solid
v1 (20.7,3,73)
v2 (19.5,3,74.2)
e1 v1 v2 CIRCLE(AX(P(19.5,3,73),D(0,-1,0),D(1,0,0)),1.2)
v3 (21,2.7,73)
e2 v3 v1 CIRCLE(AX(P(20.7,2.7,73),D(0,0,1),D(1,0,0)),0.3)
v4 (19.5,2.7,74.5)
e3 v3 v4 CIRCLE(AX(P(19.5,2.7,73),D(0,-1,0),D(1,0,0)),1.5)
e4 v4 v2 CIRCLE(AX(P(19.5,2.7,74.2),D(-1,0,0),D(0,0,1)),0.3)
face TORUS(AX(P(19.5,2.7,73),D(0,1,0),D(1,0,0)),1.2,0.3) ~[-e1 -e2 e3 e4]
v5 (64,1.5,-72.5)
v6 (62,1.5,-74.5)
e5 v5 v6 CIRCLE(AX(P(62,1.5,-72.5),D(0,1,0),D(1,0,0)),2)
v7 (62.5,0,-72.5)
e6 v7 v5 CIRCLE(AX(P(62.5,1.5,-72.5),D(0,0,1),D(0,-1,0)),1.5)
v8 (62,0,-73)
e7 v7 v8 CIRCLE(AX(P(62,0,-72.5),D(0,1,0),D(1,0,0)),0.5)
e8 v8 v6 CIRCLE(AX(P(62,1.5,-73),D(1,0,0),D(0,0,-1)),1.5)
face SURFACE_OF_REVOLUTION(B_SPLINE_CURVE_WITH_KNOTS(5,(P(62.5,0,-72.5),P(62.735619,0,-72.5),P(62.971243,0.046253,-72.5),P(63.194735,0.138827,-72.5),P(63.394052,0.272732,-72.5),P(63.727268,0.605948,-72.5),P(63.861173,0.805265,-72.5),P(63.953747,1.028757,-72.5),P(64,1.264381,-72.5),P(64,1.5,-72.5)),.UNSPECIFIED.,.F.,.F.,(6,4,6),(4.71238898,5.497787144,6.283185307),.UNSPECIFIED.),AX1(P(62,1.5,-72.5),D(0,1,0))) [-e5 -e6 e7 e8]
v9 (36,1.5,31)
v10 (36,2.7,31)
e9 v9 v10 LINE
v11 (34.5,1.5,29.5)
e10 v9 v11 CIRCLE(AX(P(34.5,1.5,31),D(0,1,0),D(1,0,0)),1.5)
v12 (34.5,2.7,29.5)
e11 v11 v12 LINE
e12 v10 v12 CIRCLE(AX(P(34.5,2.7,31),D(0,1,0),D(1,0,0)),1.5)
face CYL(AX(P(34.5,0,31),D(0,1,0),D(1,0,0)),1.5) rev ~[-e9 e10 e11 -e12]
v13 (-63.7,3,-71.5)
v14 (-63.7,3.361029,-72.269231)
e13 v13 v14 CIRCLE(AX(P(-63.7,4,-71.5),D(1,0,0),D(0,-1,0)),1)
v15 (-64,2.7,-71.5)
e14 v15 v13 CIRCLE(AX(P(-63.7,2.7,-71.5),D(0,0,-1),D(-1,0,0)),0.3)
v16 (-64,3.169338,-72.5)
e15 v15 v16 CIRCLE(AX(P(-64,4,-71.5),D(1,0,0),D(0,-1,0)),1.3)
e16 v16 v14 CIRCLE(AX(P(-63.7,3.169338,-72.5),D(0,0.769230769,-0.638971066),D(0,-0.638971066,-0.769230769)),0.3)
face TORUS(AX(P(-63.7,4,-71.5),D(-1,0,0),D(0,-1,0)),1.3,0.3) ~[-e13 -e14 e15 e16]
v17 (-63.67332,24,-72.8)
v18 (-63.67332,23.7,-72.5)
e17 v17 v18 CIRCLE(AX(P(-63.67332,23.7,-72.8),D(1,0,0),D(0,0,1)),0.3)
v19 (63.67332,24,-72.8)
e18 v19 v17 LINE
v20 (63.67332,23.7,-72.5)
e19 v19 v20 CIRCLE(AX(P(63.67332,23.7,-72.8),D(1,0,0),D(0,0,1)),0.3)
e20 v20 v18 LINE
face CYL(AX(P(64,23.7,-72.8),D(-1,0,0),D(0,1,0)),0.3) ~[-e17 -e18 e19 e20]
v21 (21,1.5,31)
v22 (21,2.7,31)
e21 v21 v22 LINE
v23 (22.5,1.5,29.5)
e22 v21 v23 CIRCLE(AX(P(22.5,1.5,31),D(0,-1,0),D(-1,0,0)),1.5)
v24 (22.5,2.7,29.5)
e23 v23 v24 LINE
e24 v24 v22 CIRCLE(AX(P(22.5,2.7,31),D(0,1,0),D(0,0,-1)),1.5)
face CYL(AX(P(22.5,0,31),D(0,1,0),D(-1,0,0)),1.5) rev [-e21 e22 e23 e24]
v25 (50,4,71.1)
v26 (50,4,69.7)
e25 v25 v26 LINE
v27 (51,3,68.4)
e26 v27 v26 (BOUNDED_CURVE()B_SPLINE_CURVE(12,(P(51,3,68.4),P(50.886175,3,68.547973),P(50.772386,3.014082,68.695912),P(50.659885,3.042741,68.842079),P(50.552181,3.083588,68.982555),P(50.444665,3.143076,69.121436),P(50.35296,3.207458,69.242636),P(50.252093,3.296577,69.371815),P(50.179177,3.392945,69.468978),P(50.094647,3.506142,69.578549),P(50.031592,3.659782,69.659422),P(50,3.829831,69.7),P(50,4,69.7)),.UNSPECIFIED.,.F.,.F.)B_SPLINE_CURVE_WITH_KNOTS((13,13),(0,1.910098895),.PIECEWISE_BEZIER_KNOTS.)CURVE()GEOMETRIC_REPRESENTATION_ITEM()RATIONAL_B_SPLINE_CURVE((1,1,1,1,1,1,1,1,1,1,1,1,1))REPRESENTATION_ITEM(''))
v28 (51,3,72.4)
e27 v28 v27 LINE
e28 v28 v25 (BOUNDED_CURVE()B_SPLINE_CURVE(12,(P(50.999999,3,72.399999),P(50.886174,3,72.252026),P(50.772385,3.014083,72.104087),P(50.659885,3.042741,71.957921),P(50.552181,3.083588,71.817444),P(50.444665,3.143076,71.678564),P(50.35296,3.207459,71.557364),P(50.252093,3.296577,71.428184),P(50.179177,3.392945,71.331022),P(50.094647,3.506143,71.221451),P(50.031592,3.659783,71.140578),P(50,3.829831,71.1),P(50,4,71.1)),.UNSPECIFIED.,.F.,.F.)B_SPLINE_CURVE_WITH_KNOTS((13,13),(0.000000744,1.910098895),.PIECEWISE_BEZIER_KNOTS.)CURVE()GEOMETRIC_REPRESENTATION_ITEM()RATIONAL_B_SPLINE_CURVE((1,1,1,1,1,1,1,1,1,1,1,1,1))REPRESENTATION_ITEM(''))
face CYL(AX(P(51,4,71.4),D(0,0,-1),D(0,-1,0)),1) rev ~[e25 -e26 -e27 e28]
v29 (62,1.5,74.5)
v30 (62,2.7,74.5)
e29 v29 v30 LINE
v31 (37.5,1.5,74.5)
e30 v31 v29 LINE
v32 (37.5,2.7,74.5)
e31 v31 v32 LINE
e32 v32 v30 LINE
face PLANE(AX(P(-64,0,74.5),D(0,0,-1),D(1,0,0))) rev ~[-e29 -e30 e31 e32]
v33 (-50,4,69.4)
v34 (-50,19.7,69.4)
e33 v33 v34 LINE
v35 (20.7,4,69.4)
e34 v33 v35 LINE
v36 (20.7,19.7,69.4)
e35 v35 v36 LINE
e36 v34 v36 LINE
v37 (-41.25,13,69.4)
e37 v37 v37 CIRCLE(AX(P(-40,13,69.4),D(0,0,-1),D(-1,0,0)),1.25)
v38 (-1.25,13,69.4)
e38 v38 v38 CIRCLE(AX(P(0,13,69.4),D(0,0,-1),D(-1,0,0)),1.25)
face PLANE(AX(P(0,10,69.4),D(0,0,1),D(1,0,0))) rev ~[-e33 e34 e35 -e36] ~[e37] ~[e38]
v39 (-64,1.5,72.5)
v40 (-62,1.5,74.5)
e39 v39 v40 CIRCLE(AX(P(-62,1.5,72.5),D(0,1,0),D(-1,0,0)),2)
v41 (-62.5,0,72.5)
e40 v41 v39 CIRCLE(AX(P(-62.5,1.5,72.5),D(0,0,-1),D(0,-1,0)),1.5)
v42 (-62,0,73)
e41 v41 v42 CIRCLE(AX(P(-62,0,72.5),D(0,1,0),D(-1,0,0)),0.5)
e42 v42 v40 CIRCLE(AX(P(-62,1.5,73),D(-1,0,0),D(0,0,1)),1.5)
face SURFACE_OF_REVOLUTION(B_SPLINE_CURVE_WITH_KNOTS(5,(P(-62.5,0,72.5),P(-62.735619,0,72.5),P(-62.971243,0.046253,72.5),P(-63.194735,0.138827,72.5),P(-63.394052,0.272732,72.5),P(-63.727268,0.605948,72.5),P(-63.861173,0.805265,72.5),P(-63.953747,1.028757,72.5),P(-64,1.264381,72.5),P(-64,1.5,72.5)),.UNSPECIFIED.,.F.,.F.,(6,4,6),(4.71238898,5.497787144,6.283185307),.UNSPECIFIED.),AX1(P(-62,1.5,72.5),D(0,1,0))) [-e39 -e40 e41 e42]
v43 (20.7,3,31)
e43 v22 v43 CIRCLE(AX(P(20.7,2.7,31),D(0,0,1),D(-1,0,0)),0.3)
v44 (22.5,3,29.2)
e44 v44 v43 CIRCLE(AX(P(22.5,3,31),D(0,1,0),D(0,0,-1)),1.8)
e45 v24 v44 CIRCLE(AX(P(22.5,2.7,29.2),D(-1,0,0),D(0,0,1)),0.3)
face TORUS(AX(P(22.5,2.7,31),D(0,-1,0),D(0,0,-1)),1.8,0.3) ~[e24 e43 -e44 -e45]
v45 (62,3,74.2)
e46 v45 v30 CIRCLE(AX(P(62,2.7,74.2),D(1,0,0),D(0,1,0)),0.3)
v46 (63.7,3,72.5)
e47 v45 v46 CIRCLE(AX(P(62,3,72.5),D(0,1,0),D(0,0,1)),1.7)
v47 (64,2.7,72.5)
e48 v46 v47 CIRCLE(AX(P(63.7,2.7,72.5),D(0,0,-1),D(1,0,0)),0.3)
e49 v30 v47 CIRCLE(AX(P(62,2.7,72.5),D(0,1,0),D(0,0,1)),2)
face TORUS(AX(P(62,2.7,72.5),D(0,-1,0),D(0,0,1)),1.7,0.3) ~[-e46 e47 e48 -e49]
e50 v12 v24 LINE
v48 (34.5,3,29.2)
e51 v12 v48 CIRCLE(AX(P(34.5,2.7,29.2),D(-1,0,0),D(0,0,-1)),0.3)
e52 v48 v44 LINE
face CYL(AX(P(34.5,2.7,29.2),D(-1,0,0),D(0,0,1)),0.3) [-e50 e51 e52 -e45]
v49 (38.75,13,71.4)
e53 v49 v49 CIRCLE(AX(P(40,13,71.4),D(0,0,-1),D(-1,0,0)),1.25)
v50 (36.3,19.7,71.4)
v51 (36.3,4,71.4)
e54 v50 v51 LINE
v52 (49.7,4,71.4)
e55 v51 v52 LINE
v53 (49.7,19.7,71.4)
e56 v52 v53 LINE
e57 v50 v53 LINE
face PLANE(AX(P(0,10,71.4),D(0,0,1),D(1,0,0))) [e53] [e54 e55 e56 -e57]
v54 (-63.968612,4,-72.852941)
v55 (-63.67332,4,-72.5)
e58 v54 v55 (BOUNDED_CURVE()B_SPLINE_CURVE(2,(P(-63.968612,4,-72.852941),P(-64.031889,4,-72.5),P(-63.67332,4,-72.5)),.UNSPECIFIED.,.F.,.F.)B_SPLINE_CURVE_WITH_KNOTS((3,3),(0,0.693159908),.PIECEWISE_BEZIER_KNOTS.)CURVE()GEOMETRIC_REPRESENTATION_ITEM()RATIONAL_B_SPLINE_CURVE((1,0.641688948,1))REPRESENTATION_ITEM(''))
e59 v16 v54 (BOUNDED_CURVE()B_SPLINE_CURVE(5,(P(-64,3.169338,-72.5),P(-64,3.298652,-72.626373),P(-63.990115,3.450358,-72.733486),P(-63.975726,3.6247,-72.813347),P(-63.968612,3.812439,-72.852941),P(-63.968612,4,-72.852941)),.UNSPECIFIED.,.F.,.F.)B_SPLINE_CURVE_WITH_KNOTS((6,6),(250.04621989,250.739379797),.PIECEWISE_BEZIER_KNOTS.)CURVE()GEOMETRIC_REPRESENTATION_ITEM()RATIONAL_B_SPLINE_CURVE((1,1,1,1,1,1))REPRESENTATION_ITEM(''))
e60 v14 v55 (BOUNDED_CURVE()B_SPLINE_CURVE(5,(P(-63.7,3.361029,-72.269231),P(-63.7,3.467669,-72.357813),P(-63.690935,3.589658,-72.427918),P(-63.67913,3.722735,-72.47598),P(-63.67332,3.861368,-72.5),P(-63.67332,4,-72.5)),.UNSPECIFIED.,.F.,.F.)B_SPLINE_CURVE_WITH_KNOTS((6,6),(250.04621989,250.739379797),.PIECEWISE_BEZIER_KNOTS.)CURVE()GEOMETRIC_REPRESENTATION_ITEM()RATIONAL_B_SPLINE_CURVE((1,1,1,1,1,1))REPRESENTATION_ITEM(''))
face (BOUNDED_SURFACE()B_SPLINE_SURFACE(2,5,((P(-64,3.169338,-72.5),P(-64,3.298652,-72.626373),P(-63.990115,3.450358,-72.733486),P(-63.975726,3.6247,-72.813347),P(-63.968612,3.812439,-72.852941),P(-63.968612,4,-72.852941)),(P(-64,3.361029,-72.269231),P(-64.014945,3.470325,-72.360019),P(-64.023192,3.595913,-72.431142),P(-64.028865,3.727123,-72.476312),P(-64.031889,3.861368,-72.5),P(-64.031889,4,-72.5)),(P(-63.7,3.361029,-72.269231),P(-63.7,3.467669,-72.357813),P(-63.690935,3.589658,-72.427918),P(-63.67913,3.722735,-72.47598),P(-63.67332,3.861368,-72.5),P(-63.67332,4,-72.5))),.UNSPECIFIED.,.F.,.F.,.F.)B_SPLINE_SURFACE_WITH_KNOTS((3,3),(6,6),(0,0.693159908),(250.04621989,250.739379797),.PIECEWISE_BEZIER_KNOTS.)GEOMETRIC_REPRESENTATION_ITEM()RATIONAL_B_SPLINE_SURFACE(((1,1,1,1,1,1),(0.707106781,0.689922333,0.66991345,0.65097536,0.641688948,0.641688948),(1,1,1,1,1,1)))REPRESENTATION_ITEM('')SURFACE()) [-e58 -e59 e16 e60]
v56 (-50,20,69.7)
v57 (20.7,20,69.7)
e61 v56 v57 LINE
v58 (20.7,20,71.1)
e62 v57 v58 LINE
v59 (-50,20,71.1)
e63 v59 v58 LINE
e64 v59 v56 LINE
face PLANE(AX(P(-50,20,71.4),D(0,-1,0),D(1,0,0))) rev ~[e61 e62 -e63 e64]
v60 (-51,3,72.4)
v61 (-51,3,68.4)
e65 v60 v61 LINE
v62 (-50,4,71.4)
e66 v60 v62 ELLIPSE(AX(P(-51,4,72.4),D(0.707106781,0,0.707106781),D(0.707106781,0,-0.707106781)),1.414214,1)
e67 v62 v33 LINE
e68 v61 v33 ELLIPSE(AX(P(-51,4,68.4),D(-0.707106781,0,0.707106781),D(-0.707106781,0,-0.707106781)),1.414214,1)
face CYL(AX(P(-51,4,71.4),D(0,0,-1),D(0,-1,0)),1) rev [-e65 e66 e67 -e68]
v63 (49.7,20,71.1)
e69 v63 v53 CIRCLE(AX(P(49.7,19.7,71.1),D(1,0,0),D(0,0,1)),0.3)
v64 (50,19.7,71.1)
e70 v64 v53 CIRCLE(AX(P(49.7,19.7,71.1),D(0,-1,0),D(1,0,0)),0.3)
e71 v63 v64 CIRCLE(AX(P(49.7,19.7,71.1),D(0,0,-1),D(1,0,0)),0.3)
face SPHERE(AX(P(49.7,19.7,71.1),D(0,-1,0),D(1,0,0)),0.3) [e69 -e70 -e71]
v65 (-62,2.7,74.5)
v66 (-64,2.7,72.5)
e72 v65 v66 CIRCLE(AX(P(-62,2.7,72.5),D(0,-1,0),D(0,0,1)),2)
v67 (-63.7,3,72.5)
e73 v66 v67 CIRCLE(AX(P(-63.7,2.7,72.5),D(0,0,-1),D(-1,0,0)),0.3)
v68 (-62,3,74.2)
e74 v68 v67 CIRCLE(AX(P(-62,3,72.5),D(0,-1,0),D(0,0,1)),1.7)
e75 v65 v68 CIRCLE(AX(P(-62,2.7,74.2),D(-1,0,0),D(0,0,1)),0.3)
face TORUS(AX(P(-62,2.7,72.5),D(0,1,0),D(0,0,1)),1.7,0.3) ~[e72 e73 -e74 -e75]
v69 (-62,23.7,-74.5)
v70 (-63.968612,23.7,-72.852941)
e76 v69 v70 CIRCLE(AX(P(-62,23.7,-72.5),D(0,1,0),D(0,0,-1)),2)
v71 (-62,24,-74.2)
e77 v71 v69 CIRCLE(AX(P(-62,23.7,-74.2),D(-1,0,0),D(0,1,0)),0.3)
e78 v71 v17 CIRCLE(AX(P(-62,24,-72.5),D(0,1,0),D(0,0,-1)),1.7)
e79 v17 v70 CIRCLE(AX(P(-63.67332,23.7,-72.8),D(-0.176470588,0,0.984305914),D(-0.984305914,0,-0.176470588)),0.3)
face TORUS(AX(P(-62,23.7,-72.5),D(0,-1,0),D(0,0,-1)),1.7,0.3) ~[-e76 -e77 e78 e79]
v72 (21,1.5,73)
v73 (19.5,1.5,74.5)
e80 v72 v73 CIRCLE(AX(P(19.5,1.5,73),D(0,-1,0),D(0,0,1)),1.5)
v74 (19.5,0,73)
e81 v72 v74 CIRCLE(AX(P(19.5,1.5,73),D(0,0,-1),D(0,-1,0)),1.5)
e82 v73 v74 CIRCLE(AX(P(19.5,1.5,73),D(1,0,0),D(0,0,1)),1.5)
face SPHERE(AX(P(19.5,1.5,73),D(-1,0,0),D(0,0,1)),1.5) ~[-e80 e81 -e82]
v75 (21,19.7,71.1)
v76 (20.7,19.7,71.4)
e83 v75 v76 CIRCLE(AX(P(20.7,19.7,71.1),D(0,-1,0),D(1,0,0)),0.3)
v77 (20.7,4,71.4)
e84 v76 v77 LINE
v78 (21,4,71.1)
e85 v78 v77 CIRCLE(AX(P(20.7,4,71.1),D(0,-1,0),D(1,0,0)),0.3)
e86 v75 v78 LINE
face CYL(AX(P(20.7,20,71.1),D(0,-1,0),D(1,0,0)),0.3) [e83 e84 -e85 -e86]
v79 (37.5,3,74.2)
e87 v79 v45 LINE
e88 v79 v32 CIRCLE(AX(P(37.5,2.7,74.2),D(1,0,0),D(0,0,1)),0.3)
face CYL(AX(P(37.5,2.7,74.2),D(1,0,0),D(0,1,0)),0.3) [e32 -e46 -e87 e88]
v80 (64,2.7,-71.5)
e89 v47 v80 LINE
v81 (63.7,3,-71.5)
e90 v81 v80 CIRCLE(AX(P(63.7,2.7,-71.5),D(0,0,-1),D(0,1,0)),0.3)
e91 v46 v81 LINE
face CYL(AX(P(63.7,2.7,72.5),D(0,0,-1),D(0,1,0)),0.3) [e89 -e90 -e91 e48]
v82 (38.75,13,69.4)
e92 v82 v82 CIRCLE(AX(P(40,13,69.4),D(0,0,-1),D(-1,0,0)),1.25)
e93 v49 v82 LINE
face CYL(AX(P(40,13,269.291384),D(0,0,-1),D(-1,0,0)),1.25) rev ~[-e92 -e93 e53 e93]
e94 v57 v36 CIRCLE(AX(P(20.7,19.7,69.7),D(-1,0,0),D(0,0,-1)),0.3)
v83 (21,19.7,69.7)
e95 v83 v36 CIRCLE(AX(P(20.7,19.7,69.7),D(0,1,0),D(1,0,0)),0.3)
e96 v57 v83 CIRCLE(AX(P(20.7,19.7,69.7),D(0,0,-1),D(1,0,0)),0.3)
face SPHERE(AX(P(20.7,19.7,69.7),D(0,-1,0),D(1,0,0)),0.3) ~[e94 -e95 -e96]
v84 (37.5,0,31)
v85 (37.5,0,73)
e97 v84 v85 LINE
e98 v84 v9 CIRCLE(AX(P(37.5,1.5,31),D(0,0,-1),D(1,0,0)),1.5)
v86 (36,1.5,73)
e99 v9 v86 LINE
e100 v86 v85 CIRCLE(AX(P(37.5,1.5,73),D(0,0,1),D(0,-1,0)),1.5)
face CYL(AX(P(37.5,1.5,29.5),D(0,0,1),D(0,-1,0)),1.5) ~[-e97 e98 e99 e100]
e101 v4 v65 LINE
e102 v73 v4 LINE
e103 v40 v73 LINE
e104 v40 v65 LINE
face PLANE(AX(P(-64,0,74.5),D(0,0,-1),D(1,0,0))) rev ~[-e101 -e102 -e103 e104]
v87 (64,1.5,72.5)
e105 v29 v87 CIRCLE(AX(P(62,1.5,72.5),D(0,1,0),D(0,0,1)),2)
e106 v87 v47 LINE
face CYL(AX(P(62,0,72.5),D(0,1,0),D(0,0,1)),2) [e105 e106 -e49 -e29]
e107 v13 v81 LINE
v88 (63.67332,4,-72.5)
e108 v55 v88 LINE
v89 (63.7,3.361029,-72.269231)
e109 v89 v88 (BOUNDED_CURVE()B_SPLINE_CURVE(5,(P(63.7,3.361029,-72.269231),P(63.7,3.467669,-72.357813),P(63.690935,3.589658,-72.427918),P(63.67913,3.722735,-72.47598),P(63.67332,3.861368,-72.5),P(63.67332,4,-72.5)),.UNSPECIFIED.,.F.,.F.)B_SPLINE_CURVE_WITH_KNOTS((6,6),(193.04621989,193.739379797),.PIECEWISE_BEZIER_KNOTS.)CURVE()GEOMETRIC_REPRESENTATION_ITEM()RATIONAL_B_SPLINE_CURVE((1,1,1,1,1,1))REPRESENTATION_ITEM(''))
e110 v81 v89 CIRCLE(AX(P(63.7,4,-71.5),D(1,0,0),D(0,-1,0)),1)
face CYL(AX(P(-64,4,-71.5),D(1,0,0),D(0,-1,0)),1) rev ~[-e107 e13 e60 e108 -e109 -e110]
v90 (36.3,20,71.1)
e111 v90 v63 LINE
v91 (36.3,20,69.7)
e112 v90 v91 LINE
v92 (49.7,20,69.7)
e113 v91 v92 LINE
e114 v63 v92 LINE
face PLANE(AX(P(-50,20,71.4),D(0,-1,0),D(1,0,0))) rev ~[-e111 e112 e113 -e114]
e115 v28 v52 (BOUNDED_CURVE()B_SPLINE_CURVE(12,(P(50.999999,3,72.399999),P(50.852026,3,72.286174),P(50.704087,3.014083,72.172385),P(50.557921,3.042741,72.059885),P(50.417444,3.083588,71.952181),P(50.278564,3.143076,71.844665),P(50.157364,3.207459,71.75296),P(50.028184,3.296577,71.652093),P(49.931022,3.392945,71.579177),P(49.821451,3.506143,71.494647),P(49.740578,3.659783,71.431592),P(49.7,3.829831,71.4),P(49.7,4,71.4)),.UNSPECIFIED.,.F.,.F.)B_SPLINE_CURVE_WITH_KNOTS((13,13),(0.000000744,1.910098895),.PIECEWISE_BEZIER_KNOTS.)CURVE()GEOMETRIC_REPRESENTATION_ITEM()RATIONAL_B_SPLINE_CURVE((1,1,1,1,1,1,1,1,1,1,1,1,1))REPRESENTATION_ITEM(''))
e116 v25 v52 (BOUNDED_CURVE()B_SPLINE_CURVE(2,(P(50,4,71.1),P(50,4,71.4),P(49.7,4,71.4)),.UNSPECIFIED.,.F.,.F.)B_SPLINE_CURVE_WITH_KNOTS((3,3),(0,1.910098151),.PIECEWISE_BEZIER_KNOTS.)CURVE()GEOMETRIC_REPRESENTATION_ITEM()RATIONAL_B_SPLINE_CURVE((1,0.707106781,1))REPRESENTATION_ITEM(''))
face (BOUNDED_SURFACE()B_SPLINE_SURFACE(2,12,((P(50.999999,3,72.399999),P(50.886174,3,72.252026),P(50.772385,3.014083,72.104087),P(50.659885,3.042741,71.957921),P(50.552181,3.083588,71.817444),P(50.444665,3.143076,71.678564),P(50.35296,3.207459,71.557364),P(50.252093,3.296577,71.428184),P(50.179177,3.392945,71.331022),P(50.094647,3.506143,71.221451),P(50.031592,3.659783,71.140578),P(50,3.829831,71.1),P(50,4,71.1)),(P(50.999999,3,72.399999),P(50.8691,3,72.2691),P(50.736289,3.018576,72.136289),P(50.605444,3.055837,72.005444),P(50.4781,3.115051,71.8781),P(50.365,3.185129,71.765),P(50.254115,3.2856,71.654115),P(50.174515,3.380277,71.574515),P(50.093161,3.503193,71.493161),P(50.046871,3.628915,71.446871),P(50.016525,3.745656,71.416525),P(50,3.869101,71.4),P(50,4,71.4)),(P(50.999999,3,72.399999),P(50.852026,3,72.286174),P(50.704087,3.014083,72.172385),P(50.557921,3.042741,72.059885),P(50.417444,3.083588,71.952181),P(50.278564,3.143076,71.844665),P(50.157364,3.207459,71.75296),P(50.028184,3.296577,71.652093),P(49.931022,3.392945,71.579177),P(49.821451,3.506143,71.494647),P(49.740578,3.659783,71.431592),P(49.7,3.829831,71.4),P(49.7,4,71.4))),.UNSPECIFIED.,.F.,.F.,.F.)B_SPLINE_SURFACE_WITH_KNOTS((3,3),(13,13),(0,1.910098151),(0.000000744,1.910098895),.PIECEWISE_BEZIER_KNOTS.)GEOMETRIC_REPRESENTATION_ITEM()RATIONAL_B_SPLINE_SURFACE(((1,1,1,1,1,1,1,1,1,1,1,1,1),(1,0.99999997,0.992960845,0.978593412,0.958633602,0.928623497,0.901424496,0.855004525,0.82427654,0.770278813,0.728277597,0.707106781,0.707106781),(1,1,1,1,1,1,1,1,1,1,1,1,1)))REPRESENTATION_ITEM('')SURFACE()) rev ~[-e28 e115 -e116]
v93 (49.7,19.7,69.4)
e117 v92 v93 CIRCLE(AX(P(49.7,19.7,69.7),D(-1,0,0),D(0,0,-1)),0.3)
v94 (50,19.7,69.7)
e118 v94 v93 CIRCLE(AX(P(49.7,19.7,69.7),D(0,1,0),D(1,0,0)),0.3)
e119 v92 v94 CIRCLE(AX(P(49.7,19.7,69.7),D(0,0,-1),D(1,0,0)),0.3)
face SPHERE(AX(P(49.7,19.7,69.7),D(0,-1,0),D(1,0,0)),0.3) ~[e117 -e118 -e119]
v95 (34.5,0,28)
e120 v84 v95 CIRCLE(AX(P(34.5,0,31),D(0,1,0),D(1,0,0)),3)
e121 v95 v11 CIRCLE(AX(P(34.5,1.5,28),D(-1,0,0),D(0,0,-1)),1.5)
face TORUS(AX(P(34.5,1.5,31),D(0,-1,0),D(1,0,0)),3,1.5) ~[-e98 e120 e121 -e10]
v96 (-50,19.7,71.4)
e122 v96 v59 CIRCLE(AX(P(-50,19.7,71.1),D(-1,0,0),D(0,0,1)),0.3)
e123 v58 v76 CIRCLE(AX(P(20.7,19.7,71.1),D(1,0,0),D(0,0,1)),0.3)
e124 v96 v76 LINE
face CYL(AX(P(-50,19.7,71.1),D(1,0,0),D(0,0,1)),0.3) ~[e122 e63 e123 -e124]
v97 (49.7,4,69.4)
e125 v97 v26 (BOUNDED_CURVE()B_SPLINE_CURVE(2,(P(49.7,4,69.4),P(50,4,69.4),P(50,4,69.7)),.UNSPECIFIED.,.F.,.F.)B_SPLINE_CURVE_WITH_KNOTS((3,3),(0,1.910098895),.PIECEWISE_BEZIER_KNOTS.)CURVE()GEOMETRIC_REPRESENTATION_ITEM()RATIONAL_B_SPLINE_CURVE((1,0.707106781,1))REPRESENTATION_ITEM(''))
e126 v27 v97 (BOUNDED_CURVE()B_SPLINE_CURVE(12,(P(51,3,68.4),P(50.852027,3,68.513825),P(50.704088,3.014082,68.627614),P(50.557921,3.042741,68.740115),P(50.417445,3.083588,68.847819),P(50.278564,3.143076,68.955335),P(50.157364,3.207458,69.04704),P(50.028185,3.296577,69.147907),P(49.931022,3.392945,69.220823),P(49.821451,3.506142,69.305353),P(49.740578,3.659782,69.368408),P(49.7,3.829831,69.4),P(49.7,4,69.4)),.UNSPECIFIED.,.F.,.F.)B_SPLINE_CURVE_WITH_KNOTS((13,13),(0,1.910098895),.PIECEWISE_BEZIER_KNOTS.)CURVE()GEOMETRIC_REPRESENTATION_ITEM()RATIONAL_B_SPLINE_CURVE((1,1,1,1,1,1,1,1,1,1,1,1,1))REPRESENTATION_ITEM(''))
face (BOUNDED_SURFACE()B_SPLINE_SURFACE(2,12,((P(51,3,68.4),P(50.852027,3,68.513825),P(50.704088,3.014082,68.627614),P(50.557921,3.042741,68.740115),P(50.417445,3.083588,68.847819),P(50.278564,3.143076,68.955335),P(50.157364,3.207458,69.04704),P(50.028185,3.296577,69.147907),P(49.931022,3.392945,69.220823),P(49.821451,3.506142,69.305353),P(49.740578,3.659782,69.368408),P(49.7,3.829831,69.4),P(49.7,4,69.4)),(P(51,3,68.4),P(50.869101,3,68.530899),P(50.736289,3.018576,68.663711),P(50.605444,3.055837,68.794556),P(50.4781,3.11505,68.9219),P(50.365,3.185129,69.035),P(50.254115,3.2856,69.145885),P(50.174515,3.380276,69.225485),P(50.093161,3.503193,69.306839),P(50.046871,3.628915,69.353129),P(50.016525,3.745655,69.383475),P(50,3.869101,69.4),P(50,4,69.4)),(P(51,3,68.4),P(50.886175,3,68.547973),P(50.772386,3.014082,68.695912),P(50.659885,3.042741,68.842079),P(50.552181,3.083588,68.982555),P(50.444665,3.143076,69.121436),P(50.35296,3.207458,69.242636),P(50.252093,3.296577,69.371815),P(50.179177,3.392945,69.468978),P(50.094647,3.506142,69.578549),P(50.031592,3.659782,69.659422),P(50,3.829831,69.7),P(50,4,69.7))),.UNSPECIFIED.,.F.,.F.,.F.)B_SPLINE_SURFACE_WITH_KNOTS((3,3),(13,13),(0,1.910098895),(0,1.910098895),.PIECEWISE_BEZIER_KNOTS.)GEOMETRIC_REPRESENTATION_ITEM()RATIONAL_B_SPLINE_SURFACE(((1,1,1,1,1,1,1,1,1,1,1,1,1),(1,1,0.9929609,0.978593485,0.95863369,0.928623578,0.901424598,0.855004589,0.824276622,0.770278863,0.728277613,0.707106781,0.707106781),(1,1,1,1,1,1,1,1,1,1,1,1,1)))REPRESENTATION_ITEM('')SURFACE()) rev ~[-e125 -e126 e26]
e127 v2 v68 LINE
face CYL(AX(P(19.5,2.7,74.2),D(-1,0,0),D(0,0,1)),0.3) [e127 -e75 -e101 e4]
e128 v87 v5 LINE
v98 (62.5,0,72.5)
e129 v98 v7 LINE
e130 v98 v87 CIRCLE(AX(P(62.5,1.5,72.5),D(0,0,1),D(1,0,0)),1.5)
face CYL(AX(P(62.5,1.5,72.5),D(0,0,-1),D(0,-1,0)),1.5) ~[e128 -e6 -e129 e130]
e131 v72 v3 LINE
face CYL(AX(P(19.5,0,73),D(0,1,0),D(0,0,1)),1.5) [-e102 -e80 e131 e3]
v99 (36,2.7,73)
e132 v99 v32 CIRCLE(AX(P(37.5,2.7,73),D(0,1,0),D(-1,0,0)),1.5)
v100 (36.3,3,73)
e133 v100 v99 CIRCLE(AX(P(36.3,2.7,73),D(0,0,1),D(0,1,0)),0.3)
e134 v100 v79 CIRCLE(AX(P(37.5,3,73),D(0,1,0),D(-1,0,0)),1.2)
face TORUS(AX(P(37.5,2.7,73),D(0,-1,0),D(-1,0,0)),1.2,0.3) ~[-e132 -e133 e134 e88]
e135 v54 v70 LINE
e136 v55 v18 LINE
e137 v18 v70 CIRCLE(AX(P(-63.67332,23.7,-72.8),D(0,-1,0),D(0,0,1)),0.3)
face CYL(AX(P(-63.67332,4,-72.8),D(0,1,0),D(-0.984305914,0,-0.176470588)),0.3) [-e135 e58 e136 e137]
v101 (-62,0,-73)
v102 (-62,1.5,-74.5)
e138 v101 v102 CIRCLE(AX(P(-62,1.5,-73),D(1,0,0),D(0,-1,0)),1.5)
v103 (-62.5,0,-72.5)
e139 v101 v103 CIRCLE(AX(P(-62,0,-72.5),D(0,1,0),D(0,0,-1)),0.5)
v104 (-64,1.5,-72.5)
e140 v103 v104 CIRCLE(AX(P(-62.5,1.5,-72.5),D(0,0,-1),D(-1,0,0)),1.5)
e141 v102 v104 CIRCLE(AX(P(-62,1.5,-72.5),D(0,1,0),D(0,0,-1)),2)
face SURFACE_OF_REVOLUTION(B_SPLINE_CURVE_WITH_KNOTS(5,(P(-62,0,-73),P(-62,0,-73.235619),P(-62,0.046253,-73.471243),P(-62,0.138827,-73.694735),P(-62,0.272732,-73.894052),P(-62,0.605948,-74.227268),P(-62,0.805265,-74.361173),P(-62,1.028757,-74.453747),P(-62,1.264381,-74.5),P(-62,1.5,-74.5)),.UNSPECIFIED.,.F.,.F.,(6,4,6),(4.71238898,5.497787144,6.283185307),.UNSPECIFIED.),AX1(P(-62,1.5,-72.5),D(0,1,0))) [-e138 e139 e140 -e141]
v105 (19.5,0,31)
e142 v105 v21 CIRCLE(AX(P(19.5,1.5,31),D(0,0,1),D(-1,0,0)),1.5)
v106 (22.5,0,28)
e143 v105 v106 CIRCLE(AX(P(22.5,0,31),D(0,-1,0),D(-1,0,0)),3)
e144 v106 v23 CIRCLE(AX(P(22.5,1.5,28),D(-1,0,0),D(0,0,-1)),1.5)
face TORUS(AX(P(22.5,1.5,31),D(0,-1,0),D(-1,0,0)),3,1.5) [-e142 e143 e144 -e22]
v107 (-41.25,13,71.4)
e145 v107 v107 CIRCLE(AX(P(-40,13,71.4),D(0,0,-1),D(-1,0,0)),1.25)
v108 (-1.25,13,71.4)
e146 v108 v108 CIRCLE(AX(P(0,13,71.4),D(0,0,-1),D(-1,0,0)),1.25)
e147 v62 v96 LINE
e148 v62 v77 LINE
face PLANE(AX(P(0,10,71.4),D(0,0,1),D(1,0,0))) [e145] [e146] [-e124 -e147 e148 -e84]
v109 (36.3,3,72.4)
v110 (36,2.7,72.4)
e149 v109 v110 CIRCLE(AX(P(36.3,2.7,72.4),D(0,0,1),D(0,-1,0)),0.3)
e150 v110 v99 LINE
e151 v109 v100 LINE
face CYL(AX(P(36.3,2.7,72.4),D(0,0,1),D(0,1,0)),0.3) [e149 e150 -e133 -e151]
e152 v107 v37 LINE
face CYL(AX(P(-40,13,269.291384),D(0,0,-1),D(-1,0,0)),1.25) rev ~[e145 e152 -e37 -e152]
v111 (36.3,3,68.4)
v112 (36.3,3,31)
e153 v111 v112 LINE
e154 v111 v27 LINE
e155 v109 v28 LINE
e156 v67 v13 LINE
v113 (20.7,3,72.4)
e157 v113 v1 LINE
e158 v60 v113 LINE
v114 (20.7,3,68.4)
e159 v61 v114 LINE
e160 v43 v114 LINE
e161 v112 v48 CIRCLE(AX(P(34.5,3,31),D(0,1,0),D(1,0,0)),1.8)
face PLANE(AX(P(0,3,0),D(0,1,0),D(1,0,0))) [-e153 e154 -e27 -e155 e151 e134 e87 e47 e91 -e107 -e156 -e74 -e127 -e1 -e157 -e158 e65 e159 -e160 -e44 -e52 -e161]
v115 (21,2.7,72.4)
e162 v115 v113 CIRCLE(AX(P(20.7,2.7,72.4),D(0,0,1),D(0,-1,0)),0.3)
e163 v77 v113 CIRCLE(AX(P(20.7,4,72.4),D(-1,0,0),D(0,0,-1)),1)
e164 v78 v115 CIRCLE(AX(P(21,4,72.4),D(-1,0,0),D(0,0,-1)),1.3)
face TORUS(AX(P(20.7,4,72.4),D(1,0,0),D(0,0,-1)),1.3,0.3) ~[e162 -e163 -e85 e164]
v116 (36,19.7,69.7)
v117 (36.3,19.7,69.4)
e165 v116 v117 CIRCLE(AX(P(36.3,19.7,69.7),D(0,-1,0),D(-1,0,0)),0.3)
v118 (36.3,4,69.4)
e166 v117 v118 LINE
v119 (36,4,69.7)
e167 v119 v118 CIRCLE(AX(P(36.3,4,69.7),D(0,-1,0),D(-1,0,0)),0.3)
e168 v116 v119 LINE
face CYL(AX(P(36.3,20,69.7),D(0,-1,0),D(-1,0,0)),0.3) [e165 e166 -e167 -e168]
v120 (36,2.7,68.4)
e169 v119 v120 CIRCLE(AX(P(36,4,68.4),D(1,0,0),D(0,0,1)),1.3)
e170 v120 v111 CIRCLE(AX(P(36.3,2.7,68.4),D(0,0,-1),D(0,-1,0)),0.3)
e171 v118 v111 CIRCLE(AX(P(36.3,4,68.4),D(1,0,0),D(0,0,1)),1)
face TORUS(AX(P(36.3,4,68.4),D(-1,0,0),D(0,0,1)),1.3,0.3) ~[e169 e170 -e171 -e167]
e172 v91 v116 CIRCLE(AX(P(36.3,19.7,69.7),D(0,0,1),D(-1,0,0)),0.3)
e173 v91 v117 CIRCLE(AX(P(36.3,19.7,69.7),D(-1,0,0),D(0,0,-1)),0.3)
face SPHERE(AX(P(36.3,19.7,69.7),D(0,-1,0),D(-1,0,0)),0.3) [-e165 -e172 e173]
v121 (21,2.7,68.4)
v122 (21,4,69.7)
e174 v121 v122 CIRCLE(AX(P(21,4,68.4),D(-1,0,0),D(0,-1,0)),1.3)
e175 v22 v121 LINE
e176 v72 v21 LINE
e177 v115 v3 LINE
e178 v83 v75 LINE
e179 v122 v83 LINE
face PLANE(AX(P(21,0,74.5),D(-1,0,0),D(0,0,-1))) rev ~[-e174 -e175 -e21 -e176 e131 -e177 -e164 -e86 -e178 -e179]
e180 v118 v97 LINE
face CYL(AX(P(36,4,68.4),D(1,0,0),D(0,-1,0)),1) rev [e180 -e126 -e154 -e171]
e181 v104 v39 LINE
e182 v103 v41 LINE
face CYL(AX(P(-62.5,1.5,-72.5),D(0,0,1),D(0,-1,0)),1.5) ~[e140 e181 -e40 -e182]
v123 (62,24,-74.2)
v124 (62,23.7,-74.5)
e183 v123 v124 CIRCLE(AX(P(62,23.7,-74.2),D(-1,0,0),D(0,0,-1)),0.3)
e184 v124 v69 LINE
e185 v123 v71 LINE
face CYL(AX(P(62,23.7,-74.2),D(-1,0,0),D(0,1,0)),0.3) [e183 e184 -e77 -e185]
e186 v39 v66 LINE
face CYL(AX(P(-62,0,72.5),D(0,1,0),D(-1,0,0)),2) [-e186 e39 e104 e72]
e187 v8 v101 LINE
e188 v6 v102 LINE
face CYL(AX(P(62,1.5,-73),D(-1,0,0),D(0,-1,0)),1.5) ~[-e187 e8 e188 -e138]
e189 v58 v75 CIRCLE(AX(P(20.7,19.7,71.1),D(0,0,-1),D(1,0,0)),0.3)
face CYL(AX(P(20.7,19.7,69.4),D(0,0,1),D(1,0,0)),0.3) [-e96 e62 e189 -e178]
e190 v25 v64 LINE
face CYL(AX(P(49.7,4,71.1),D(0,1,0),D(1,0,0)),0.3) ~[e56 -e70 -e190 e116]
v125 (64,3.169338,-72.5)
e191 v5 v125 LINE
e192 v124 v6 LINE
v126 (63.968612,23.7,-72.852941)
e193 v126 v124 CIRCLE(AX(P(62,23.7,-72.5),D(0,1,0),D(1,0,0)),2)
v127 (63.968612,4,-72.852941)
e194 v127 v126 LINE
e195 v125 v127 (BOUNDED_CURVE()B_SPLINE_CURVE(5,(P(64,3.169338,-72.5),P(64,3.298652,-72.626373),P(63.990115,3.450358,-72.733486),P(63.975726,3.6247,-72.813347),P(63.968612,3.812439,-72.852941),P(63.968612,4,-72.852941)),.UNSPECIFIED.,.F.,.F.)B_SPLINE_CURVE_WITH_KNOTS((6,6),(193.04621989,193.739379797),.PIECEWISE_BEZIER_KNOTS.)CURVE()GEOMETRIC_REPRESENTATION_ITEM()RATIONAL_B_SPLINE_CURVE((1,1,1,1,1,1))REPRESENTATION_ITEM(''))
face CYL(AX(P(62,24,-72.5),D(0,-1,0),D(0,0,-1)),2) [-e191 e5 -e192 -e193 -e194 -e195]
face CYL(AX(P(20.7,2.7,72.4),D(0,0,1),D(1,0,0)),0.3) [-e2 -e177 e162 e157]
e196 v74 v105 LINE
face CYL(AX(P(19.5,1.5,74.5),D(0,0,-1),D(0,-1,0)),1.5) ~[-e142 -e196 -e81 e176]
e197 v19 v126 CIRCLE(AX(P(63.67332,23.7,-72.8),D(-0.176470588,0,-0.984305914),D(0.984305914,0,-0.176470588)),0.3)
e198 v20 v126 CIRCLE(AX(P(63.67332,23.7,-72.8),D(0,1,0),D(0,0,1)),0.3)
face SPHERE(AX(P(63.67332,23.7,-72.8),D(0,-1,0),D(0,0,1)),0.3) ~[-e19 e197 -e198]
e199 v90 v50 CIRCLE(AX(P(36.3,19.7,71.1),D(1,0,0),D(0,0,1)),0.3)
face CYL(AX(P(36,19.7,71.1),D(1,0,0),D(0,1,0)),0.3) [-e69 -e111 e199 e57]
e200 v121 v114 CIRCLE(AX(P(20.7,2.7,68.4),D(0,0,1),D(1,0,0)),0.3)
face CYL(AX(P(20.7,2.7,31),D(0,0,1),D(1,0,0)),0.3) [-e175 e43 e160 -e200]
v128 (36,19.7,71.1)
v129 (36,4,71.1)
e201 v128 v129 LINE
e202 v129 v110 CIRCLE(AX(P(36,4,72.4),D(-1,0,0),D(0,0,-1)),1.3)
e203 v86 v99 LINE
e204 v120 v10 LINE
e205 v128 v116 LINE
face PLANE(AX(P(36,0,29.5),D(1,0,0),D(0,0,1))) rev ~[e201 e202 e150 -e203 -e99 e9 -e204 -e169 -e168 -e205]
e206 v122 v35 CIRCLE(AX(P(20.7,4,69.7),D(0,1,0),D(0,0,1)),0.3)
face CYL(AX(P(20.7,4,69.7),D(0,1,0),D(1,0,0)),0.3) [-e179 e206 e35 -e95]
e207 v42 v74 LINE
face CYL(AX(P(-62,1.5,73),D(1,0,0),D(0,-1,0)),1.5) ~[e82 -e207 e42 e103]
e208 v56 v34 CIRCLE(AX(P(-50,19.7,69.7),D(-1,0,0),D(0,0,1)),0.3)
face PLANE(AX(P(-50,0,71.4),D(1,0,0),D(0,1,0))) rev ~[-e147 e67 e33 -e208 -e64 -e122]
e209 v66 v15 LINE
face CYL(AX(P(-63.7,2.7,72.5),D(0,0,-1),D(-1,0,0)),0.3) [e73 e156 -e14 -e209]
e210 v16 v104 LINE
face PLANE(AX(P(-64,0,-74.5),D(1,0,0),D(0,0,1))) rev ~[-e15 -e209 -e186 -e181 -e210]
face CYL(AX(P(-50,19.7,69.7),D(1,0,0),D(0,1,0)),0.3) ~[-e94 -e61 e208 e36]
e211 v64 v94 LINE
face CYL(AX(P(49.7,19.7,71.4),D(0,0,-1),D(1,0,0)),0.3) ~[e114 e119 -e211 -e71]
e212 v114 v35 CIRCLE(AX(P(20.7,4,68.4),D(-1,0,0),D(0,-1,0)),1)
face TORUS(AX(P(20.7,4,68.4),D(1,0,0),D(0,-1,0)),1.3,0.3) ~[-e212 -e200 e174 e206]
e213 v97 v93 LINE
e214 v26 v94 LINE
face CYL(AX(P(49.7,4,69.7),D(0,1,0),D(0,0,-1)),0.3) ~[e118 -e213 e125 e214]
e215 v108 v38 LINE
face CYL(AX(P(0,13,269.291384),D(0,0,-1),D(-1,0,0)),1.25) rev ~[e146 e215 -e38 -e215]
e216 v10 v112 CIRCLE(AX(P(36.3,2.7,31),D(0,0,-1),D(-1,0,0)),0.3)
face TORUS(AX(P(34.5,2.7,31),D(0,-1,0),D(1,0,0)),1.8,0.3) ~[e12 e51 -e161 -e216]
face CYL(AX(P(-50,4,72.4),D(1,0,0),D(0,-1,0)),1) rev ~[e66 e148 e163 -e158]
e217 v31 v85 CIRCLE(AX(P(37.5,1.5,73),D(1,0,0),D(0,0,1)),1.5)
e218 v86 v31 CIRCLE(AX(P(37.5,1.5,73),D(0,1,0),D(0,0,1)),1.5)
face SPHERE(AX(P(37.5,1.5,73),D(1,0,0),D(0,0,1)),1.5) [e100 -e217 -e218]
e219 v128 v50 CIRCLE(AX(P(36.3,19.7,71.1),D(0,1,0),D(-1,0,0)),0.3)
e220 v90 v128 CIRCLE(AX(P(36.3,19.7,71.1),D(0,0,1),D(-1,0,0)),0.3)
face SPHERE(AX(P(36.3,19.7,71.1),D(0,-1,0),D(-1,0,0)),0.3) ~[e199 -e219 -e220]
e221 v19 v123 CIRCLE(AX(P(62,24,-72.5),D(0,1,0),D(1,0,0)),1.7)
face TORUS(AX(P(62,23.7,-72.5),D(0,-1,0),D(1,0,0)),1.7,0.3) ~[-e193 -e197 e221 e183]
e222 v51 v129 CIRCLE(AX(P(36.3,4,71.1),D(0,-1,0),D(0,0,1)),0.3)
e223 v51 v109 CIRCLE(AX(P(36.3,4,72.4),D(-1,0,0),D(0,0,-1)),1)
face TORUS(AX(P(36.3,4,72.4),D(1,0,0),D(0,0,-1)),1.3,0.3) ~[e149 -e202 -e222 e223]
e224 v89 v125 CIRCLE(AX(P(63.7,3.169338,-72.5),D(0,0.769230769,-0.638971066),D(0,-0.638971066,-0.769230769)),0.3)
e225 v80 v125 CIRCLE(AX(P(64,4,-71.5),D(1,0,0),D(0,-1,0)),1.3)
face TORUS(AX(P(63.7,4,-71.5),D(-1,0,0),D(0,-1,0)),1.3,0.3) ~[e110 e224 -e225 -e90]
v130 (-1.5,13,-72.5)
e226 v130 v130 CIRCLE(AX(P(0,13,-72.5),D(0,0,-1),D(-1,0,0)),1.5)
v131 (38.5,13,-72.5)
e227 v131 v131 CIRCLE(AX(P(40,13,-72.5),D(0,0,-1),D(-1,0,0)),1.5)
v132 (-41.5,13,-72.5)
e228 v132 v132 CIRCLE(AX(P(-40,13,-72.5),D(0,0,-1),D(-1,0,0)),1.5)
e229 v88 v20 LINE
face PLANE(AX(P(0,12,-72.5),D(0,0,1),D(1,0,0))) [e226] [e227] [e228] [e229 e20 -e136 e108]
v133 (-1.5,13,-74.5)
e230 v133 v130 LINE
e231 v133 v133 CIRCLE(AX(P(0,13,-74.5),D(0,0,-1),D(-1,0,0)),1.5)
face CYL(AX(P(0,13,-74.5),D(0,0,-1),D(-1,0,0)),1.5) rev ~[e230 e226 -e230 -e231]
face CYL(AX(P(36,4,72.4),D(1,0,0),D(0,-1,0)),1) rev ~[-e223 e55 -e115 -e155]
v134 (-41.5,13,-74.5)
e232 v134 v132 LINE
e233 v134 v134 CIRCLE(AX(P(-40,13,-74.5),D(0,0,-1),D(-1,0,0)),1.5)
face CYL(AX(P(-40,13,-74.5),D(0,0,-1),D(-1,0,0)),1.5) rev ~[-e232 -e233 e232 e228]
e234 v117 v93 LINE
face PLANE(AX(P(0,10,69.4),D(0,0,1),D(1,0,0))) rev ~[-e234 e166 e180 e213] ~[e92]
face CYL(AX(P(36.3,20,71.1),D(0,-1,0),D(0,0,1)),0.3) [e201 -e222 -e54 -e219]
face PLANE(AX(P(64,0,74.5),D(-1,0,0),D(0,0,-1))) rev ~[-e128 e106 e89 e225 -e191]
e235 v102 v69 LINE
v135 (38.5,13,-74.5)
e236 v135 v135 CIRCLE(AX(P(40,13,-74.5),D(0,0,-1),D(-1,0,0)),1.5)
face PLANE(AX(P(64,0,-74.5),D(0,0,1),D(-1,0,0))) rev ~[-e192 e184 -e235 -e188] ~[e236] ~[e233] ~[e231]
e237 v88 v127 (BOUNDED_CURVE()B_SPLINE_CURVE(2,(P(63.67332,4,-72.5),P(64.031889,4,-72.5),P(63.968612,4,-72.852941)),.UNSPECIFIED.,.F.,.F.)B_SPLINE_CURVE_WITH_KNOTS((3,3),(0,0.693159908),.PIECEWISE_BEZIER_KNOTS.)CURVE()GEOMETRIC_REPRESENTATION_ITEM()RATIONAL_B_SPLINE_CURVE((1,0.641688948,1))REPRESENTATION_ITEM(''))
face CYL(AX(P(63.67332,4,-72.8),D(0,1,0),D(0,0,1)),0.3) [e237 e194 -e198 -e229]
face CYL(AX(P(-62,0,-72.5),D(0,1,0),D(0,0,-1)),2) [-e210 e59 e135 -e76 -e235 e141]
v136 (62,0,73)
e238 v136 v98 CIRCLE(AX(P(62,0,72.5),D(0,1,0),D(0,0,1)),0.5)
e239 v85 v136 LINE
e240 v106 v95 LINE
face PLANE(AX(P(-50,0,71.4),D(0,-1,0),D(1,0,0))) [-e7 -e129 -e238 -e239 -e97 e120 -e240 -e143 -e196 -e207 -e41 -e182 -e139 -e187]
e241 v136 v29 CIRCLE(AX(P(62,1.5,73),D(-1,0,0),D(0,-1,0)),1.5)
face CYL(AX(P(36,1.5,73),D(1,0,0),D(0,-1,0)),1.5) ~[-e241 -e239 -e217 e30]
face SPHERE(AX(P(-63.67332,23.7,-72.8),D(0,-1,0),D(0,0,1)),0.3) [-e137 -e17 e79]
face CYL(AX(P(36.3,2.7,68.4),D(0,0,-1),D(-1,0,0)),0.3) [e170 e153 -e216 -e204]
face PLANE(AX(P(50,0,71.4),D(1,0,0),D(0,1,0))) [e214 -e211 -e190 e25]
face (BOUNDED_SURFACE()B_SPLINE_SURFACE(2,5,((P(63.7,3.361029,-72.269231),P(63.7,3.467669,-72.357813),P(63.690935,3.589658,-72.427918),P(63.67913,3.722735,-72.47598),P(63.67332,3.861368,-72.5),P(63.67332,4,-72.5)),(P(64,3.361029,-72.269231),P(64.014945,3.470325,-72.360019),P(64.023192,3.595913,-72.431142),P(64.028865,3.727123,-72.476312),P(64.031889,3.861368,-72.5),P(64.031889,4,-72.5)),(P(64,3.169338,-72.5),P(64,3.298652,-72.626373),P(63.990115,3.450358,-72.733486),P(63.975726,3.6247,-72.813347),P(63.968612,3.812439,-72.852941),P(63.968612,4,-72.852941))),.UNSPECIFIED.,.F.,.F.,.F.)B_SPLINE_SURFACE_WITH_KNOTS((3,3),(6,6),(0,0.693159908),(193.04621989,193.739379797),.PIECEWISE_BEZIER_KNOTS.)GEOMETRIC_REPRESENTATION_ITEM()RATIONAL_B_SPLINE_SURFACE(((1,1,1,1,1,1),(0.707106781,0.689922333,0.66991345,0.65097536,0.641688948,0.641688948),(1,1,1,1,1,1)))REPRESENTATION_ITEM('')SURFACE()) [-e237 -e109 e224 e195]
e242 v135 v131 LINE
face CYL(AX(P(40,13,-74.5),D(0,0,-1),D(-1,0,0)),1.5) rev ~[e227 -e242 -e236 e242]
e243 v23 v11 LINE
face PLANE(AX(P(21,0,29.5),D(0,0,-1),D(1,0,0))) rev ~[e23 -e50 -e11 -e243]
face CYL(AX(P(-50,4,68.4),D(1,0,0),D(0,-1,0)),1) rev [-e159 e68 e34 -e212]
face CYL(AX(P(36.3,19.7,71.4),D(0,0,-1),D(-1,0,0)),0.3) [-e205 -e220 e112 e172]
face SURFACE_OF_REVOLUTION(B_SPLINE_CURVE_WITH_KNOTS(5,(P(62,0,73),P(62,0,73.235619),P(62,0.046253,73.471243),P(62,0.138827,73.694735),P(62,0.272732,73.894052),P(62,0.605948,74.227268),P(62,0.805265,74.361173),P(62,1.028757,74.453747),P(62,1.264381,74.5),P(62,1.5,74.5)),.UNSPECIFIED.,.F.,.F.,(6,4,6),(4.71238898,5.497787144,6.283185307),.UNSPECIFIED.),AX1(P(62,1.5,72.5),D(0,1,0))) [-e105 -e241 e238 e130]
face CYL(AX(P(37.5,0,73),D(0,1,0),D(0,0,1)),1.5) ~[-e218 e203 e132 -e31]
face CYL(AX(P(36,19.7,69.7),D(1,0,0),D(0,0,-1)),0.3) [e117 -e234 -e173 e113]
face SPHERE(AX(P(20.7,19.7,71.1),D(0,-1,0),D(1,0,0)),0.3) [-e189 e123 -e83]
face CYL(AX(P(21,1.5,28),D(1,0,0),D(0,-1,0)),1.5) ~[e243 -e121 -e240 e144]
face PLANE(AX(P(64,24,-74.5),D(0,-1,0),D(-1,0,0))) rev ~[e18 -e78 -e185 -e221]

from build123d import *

# Parameters (mm, degrees)
EXTRUDE_1_DEPTH     = 3
EXTRUDE_2_DEPTH     = 2
EXTRUDE_START       = -3.1
SKETCH_4_W          = 100.00000000000001
SKETCH_4_H          = 20
EXTRUDE_3_DEPTH     = 2
CUT_EXTRUDE_1_REACH = 103.105
CUT_EXTRUDE_2_REACH = 165.93
SKETCH_6_R          = 1.5000000000000042
SKETCH_6_R_2        = 1.4999999999999998
HOLE_WIZARD_M3_3_D  = 2.5
FILLET_4_R          = 2
FILLET_1_R          = 1.5
FILLET_2_R          = 1
FILLET_3_R          = 0.3


with BuildPart() as part:
    # 草图1 → 凸台-拉伸1 (new body)
    with BuildSketch(Plane(origin=(0, 0, 0), x_dir=(1, 0, 0), z_dir=(0, 1, 0))):
        Polygon((64, 74.5), (-63.999999999999986, 74.49999999999999), (-63.99999999999997, -74.50000000000001), (64.00000000000003, -74.49999999999999), align=None)
    extrude(amount=EXTRUDE_1_DEPTH)

    # 草图3 → 凸台-拉伸2 (add)
    with BuildSketch(Plane(origin=(-8.08e-15, 0, -74.49999999999999), x_dir=(-1, 0, 1.1e-16), z_dir=(-1.1e-16, 0, -1))):
        Polygon((63.99999999999997, 0), (-64.00000000000001, 0), (-64.00000000000001, 23.999999999999982), (63.99999999999997, 23.999999999999996), align=None)
    extrude(amount=-EXTRUDE_2_DEPTH)

    # 草图4 → 凸台-拉伸3 (add)
    with BuildSketch(Plane.XY.offset(74.5).offset(EXTRUDE_START)):
        with Locations((0, 10)):
            Rectangle(SKETCH_4_W, SKETCH_4_H)
    extrude(amount=-EXTRUDE_3_DEPTH)

    # 草图5 → 切除-拉伸1 (cut, up to next)
    with BuildSketch(Plane.XZ, mode=Mode.PRIVATE) as cut_extrude_1_sk1:
        Polygon((36.00000000000003, 74.50000000000001), (21.000000000000032, 74.50000000000001), (21.00000000000004, 29.500000000000014), (36.000000000000036, 29.500000000000018), align=None)
    cut_extrude_1_tool1 = extrude(cut_extrude_1_sk1.sketch, amount=-CUT_EXTRUDE_1_REACH, mode=Mode.PRIVATE) & part.part
    add(cut_extrude_1_tool1.solids().sort_by_distance((28.5, 0, 52))[0], mode=Mode.SUBTRACT)

    # 草图6 → 切除-拉伸2 (cut, up to next)
    with BuildSketch(Plane(origin=(-8.08e-15, 0, -74.49999999999999), x_dir=(-1, 0, 1.1e-16), z_dir=(-1.1e-16, 0, -1)), mode=Mode.PRIVATE) as cut_extrude_2_sk1:
        with Locations((40, 13)):
            Circle(SKETCH_6_R)
    cut_extrude_2_tool1 = extrude(cut_extrude_2_sk1.sketch, amount=-CUT_EXTRUDE_2_REACH, mode=Mode.PRIVATE) & part.part
    # 草图6 → 切除-拉伸2 (cut, up to next)
    with BuildSketch(Plane(origin=(-8.08e-15, 0, -74.49999999999999), x_dir=(-1, 0, 1.1e-16), z_dir=(-1.1e-16, 0, -1)), mode=Mode.PRIVATE) as cut_extrude_2_sk2:
        with Locations((-40.00000000000003, 13)):
            Circle(SKETCH_6_R)
    cut_extrude_2_tool2 = extrude(cut_extrude_2_sk2.sketch, amount=-CUT_EXTRUDE_2_REACH, mode=Mode.PRIVATE) & part.part
    # 草图6 → 切除-拉伸2 (cut, up to next)
    with BuildSketch(Plane(origin=(-8.08e-15, 0, -74.49999999999999), x_dir=(-1, 0, 1.1e-16), z_dir=(-1.1e-16, 0, -1)), mode=Mode.PRIVATE) as cut_extrude_2_sk3:
        with Locations((-1.388e-14, 13)):
            Circle(SKETCH_6_R_2)
    cut_extrude_2_tool3 = extrude(cut_extrude_2_sk3.sketch, amount=-CUT_EXTRUDE_2_REACH, mode=Mode.PRIVATE) & part.part
    add(cut_extrude_2_tool1.solids().sort_by_distance((-40, 13, -74.5))[0], mode=Mode.SUBTRACT)
    add(cut_extrude_2_tool2.solids().sort_by_distance((40, 13, -74.5))[0], mode=Mode.SUBTRACT)
    add(cut_extrude_2_tool3.solids().sort_by_distance((0, 13, -74.5))[0], mode=Mode.SUBTRACT)

    # M3 螺纹孔3 (through all)
    with Locations(Plane.XY.offset(71.39999999999999)):
        with Locations((40, 13), (0, 13), (-40, 13)):
            Hole(HOLE_WIZARD_M3_3_D / 2)

    # 圆角4
    fillet_4_edges = [part.edges().sort_by_distance(p)[0] for p in [
        (64, 11.999999999999991, -74.5),
        (-63.99999999999998, 11.999999999999998, -74.49999999999999),
        (-63.99999999999997, 1.5, 74.50000000000001),
        (64.00000000000003, 1.5, 74.49999999999999),
    ]]
    fillet(fillet_4_edges, radius=FILLET_4_R)

    # 圆角1
    fillet_1_edges = [part.edges().sort_by_distance(p)[0] for p in [
        (7.11e-15, 0, -74.5),
        (-20.49999999999997, 0, 74.5),
        (-63.99999999999997, 0, 2.842e-14),
        (64.00000000000001, 0, -1.421e-14),
        (63.41421356237312, 0, 73.91421356237308),
        (-63.414213562373064, 0, 73.9142135623731),
        (-63.41421356237308, 0, -73.91421356237306),
        (63.41421356237309, 8.4e-16, -73.9142135623731),
        (49.00000000000003, 0, 74.49999999999999),
        (36.00000000000003, 1.5, 74.50000000000001),
        (36.000000000000036, 1.5, 29.500000000000018),
        (21.00000000000004, 1.5, 29.500000000000014),
        (21.000000000000032, 1.5, 74.50000000000001),
        (36.00000000000003, 0, 52.000000000000014),
        (21.000000000000036, 0, 52.000000000000014),
        (28.500000000000036, 0, 29.500000000000014),
    ]]
    fillet(fillet_1_edges, radius=FILLET_1_R)

    # 圆角2
    fillet_2_edges = [part.edges().sort_by_distance(p)[0] for p in [
        (1.568e-14, 3, -72.49999999999999),
        (43.00000000000003, 3, 69.4),
        (50.000000000000014, 3, 70.4),
        (-49.999999999999986, 3, 70.4),
        (43.00000000000003, 3, 71.4),
        (-14.499999999999975, 3, 71.4),
        (-14.499999999999975, 3, 69.4),
    ]]
    fillet(fillet_2_edges, radius=FILLET_2_R)

    # 圆角3
    fillet_3_edges = [part.edges().sort_by_distance(p)[0] for p in [
        (36.00000000000003, 12, 69.4),
        (36.00000000000003, 3.2928932188134525, 69.10710678118656),
        (36.000000000000036, 3, 49.70000000000002),
        (35.560660171779865, 3, 29.939339828220195),
        (28.50000000000004, 3, 29.500000000000018),
        (21.439339828220216, 3, 29.93933982822019),
        (21.000000000000032, 3, 49.70000000000001),
        (21.000000000000032, 3.2928932188134525, 69.10710678118656),
        (-63.999999999999986, 3.2928932188134525, -72.20710678118654),
        (-63.99999999999998, 3, 0.5000000000000142),
        (-21.24999999999997, 3, 74.5),
        (20.56066017177985, 3, 74.06066017177982),
        (21.00000000000003, 3, 72.7),
        (21.000000000000032, 3.292893218813452, 71.69289321881345),
        (63.99999999999999, 3.2928932188134525, -72.20710678118655),
        (64.00000000000001, 3, 0.5),
        (49.75000000000003, 3, 74.49999999999999),
        (36.439339828220206, 3, 74.0606601717798),
        (36.000000000000036, 3, 72.69999999999999),
        (36.00000000000003, 3.292893218813452, 71.69289321881345),
        (50.35395109257979, 3.236703983227258, 69.04604890742023),
        (50.35395109257979, 3.236703983227258, 71.75395109257978),
        (21.000000000000036, 20, 70.4),
        (36.000000000000036, 20, 70.4),
        (50.000000000000014, 20, 70.4),
        (-14.499999999999977, 20, 69.4),
        (-14.499999999999977, 20, 71.4),
        (21.00000000000003, 12, 69.4),
        (21.00000000000003, 12, 71.4),
        (43.00000000000002, 20, 69.4),
        (36.00000000000003, 12, 71.4),
        (43.00000000000002, 20, 71.4),
        (50.000000000000014, 12, 69.4),
        (50.000000000000014, 12, 71.4),
        (4.7531e-13, 23.99999999999999, -72.49999999999999),
        (1.324e-14, 23.99999999999999, -74.49999999999999),
        (-63.41421356237308, 23.999999999999996, -73.91421356237306),
        (63.41421356237311, 23.999999999999982, -73.91421356237308),
        (-63.99999999999998, 13.999999999999998, -72.49999999999999),
        (-63.414213562373064, 3, 73.9142135623731),
        (64, 13.999999999999991, -72.49999999999999),
        (63.41421356237312, 3, 73.91421356237308),
    ]]
    fillet(fillet_3_edges, radius=FILLET_3_R)


solid = part.part
